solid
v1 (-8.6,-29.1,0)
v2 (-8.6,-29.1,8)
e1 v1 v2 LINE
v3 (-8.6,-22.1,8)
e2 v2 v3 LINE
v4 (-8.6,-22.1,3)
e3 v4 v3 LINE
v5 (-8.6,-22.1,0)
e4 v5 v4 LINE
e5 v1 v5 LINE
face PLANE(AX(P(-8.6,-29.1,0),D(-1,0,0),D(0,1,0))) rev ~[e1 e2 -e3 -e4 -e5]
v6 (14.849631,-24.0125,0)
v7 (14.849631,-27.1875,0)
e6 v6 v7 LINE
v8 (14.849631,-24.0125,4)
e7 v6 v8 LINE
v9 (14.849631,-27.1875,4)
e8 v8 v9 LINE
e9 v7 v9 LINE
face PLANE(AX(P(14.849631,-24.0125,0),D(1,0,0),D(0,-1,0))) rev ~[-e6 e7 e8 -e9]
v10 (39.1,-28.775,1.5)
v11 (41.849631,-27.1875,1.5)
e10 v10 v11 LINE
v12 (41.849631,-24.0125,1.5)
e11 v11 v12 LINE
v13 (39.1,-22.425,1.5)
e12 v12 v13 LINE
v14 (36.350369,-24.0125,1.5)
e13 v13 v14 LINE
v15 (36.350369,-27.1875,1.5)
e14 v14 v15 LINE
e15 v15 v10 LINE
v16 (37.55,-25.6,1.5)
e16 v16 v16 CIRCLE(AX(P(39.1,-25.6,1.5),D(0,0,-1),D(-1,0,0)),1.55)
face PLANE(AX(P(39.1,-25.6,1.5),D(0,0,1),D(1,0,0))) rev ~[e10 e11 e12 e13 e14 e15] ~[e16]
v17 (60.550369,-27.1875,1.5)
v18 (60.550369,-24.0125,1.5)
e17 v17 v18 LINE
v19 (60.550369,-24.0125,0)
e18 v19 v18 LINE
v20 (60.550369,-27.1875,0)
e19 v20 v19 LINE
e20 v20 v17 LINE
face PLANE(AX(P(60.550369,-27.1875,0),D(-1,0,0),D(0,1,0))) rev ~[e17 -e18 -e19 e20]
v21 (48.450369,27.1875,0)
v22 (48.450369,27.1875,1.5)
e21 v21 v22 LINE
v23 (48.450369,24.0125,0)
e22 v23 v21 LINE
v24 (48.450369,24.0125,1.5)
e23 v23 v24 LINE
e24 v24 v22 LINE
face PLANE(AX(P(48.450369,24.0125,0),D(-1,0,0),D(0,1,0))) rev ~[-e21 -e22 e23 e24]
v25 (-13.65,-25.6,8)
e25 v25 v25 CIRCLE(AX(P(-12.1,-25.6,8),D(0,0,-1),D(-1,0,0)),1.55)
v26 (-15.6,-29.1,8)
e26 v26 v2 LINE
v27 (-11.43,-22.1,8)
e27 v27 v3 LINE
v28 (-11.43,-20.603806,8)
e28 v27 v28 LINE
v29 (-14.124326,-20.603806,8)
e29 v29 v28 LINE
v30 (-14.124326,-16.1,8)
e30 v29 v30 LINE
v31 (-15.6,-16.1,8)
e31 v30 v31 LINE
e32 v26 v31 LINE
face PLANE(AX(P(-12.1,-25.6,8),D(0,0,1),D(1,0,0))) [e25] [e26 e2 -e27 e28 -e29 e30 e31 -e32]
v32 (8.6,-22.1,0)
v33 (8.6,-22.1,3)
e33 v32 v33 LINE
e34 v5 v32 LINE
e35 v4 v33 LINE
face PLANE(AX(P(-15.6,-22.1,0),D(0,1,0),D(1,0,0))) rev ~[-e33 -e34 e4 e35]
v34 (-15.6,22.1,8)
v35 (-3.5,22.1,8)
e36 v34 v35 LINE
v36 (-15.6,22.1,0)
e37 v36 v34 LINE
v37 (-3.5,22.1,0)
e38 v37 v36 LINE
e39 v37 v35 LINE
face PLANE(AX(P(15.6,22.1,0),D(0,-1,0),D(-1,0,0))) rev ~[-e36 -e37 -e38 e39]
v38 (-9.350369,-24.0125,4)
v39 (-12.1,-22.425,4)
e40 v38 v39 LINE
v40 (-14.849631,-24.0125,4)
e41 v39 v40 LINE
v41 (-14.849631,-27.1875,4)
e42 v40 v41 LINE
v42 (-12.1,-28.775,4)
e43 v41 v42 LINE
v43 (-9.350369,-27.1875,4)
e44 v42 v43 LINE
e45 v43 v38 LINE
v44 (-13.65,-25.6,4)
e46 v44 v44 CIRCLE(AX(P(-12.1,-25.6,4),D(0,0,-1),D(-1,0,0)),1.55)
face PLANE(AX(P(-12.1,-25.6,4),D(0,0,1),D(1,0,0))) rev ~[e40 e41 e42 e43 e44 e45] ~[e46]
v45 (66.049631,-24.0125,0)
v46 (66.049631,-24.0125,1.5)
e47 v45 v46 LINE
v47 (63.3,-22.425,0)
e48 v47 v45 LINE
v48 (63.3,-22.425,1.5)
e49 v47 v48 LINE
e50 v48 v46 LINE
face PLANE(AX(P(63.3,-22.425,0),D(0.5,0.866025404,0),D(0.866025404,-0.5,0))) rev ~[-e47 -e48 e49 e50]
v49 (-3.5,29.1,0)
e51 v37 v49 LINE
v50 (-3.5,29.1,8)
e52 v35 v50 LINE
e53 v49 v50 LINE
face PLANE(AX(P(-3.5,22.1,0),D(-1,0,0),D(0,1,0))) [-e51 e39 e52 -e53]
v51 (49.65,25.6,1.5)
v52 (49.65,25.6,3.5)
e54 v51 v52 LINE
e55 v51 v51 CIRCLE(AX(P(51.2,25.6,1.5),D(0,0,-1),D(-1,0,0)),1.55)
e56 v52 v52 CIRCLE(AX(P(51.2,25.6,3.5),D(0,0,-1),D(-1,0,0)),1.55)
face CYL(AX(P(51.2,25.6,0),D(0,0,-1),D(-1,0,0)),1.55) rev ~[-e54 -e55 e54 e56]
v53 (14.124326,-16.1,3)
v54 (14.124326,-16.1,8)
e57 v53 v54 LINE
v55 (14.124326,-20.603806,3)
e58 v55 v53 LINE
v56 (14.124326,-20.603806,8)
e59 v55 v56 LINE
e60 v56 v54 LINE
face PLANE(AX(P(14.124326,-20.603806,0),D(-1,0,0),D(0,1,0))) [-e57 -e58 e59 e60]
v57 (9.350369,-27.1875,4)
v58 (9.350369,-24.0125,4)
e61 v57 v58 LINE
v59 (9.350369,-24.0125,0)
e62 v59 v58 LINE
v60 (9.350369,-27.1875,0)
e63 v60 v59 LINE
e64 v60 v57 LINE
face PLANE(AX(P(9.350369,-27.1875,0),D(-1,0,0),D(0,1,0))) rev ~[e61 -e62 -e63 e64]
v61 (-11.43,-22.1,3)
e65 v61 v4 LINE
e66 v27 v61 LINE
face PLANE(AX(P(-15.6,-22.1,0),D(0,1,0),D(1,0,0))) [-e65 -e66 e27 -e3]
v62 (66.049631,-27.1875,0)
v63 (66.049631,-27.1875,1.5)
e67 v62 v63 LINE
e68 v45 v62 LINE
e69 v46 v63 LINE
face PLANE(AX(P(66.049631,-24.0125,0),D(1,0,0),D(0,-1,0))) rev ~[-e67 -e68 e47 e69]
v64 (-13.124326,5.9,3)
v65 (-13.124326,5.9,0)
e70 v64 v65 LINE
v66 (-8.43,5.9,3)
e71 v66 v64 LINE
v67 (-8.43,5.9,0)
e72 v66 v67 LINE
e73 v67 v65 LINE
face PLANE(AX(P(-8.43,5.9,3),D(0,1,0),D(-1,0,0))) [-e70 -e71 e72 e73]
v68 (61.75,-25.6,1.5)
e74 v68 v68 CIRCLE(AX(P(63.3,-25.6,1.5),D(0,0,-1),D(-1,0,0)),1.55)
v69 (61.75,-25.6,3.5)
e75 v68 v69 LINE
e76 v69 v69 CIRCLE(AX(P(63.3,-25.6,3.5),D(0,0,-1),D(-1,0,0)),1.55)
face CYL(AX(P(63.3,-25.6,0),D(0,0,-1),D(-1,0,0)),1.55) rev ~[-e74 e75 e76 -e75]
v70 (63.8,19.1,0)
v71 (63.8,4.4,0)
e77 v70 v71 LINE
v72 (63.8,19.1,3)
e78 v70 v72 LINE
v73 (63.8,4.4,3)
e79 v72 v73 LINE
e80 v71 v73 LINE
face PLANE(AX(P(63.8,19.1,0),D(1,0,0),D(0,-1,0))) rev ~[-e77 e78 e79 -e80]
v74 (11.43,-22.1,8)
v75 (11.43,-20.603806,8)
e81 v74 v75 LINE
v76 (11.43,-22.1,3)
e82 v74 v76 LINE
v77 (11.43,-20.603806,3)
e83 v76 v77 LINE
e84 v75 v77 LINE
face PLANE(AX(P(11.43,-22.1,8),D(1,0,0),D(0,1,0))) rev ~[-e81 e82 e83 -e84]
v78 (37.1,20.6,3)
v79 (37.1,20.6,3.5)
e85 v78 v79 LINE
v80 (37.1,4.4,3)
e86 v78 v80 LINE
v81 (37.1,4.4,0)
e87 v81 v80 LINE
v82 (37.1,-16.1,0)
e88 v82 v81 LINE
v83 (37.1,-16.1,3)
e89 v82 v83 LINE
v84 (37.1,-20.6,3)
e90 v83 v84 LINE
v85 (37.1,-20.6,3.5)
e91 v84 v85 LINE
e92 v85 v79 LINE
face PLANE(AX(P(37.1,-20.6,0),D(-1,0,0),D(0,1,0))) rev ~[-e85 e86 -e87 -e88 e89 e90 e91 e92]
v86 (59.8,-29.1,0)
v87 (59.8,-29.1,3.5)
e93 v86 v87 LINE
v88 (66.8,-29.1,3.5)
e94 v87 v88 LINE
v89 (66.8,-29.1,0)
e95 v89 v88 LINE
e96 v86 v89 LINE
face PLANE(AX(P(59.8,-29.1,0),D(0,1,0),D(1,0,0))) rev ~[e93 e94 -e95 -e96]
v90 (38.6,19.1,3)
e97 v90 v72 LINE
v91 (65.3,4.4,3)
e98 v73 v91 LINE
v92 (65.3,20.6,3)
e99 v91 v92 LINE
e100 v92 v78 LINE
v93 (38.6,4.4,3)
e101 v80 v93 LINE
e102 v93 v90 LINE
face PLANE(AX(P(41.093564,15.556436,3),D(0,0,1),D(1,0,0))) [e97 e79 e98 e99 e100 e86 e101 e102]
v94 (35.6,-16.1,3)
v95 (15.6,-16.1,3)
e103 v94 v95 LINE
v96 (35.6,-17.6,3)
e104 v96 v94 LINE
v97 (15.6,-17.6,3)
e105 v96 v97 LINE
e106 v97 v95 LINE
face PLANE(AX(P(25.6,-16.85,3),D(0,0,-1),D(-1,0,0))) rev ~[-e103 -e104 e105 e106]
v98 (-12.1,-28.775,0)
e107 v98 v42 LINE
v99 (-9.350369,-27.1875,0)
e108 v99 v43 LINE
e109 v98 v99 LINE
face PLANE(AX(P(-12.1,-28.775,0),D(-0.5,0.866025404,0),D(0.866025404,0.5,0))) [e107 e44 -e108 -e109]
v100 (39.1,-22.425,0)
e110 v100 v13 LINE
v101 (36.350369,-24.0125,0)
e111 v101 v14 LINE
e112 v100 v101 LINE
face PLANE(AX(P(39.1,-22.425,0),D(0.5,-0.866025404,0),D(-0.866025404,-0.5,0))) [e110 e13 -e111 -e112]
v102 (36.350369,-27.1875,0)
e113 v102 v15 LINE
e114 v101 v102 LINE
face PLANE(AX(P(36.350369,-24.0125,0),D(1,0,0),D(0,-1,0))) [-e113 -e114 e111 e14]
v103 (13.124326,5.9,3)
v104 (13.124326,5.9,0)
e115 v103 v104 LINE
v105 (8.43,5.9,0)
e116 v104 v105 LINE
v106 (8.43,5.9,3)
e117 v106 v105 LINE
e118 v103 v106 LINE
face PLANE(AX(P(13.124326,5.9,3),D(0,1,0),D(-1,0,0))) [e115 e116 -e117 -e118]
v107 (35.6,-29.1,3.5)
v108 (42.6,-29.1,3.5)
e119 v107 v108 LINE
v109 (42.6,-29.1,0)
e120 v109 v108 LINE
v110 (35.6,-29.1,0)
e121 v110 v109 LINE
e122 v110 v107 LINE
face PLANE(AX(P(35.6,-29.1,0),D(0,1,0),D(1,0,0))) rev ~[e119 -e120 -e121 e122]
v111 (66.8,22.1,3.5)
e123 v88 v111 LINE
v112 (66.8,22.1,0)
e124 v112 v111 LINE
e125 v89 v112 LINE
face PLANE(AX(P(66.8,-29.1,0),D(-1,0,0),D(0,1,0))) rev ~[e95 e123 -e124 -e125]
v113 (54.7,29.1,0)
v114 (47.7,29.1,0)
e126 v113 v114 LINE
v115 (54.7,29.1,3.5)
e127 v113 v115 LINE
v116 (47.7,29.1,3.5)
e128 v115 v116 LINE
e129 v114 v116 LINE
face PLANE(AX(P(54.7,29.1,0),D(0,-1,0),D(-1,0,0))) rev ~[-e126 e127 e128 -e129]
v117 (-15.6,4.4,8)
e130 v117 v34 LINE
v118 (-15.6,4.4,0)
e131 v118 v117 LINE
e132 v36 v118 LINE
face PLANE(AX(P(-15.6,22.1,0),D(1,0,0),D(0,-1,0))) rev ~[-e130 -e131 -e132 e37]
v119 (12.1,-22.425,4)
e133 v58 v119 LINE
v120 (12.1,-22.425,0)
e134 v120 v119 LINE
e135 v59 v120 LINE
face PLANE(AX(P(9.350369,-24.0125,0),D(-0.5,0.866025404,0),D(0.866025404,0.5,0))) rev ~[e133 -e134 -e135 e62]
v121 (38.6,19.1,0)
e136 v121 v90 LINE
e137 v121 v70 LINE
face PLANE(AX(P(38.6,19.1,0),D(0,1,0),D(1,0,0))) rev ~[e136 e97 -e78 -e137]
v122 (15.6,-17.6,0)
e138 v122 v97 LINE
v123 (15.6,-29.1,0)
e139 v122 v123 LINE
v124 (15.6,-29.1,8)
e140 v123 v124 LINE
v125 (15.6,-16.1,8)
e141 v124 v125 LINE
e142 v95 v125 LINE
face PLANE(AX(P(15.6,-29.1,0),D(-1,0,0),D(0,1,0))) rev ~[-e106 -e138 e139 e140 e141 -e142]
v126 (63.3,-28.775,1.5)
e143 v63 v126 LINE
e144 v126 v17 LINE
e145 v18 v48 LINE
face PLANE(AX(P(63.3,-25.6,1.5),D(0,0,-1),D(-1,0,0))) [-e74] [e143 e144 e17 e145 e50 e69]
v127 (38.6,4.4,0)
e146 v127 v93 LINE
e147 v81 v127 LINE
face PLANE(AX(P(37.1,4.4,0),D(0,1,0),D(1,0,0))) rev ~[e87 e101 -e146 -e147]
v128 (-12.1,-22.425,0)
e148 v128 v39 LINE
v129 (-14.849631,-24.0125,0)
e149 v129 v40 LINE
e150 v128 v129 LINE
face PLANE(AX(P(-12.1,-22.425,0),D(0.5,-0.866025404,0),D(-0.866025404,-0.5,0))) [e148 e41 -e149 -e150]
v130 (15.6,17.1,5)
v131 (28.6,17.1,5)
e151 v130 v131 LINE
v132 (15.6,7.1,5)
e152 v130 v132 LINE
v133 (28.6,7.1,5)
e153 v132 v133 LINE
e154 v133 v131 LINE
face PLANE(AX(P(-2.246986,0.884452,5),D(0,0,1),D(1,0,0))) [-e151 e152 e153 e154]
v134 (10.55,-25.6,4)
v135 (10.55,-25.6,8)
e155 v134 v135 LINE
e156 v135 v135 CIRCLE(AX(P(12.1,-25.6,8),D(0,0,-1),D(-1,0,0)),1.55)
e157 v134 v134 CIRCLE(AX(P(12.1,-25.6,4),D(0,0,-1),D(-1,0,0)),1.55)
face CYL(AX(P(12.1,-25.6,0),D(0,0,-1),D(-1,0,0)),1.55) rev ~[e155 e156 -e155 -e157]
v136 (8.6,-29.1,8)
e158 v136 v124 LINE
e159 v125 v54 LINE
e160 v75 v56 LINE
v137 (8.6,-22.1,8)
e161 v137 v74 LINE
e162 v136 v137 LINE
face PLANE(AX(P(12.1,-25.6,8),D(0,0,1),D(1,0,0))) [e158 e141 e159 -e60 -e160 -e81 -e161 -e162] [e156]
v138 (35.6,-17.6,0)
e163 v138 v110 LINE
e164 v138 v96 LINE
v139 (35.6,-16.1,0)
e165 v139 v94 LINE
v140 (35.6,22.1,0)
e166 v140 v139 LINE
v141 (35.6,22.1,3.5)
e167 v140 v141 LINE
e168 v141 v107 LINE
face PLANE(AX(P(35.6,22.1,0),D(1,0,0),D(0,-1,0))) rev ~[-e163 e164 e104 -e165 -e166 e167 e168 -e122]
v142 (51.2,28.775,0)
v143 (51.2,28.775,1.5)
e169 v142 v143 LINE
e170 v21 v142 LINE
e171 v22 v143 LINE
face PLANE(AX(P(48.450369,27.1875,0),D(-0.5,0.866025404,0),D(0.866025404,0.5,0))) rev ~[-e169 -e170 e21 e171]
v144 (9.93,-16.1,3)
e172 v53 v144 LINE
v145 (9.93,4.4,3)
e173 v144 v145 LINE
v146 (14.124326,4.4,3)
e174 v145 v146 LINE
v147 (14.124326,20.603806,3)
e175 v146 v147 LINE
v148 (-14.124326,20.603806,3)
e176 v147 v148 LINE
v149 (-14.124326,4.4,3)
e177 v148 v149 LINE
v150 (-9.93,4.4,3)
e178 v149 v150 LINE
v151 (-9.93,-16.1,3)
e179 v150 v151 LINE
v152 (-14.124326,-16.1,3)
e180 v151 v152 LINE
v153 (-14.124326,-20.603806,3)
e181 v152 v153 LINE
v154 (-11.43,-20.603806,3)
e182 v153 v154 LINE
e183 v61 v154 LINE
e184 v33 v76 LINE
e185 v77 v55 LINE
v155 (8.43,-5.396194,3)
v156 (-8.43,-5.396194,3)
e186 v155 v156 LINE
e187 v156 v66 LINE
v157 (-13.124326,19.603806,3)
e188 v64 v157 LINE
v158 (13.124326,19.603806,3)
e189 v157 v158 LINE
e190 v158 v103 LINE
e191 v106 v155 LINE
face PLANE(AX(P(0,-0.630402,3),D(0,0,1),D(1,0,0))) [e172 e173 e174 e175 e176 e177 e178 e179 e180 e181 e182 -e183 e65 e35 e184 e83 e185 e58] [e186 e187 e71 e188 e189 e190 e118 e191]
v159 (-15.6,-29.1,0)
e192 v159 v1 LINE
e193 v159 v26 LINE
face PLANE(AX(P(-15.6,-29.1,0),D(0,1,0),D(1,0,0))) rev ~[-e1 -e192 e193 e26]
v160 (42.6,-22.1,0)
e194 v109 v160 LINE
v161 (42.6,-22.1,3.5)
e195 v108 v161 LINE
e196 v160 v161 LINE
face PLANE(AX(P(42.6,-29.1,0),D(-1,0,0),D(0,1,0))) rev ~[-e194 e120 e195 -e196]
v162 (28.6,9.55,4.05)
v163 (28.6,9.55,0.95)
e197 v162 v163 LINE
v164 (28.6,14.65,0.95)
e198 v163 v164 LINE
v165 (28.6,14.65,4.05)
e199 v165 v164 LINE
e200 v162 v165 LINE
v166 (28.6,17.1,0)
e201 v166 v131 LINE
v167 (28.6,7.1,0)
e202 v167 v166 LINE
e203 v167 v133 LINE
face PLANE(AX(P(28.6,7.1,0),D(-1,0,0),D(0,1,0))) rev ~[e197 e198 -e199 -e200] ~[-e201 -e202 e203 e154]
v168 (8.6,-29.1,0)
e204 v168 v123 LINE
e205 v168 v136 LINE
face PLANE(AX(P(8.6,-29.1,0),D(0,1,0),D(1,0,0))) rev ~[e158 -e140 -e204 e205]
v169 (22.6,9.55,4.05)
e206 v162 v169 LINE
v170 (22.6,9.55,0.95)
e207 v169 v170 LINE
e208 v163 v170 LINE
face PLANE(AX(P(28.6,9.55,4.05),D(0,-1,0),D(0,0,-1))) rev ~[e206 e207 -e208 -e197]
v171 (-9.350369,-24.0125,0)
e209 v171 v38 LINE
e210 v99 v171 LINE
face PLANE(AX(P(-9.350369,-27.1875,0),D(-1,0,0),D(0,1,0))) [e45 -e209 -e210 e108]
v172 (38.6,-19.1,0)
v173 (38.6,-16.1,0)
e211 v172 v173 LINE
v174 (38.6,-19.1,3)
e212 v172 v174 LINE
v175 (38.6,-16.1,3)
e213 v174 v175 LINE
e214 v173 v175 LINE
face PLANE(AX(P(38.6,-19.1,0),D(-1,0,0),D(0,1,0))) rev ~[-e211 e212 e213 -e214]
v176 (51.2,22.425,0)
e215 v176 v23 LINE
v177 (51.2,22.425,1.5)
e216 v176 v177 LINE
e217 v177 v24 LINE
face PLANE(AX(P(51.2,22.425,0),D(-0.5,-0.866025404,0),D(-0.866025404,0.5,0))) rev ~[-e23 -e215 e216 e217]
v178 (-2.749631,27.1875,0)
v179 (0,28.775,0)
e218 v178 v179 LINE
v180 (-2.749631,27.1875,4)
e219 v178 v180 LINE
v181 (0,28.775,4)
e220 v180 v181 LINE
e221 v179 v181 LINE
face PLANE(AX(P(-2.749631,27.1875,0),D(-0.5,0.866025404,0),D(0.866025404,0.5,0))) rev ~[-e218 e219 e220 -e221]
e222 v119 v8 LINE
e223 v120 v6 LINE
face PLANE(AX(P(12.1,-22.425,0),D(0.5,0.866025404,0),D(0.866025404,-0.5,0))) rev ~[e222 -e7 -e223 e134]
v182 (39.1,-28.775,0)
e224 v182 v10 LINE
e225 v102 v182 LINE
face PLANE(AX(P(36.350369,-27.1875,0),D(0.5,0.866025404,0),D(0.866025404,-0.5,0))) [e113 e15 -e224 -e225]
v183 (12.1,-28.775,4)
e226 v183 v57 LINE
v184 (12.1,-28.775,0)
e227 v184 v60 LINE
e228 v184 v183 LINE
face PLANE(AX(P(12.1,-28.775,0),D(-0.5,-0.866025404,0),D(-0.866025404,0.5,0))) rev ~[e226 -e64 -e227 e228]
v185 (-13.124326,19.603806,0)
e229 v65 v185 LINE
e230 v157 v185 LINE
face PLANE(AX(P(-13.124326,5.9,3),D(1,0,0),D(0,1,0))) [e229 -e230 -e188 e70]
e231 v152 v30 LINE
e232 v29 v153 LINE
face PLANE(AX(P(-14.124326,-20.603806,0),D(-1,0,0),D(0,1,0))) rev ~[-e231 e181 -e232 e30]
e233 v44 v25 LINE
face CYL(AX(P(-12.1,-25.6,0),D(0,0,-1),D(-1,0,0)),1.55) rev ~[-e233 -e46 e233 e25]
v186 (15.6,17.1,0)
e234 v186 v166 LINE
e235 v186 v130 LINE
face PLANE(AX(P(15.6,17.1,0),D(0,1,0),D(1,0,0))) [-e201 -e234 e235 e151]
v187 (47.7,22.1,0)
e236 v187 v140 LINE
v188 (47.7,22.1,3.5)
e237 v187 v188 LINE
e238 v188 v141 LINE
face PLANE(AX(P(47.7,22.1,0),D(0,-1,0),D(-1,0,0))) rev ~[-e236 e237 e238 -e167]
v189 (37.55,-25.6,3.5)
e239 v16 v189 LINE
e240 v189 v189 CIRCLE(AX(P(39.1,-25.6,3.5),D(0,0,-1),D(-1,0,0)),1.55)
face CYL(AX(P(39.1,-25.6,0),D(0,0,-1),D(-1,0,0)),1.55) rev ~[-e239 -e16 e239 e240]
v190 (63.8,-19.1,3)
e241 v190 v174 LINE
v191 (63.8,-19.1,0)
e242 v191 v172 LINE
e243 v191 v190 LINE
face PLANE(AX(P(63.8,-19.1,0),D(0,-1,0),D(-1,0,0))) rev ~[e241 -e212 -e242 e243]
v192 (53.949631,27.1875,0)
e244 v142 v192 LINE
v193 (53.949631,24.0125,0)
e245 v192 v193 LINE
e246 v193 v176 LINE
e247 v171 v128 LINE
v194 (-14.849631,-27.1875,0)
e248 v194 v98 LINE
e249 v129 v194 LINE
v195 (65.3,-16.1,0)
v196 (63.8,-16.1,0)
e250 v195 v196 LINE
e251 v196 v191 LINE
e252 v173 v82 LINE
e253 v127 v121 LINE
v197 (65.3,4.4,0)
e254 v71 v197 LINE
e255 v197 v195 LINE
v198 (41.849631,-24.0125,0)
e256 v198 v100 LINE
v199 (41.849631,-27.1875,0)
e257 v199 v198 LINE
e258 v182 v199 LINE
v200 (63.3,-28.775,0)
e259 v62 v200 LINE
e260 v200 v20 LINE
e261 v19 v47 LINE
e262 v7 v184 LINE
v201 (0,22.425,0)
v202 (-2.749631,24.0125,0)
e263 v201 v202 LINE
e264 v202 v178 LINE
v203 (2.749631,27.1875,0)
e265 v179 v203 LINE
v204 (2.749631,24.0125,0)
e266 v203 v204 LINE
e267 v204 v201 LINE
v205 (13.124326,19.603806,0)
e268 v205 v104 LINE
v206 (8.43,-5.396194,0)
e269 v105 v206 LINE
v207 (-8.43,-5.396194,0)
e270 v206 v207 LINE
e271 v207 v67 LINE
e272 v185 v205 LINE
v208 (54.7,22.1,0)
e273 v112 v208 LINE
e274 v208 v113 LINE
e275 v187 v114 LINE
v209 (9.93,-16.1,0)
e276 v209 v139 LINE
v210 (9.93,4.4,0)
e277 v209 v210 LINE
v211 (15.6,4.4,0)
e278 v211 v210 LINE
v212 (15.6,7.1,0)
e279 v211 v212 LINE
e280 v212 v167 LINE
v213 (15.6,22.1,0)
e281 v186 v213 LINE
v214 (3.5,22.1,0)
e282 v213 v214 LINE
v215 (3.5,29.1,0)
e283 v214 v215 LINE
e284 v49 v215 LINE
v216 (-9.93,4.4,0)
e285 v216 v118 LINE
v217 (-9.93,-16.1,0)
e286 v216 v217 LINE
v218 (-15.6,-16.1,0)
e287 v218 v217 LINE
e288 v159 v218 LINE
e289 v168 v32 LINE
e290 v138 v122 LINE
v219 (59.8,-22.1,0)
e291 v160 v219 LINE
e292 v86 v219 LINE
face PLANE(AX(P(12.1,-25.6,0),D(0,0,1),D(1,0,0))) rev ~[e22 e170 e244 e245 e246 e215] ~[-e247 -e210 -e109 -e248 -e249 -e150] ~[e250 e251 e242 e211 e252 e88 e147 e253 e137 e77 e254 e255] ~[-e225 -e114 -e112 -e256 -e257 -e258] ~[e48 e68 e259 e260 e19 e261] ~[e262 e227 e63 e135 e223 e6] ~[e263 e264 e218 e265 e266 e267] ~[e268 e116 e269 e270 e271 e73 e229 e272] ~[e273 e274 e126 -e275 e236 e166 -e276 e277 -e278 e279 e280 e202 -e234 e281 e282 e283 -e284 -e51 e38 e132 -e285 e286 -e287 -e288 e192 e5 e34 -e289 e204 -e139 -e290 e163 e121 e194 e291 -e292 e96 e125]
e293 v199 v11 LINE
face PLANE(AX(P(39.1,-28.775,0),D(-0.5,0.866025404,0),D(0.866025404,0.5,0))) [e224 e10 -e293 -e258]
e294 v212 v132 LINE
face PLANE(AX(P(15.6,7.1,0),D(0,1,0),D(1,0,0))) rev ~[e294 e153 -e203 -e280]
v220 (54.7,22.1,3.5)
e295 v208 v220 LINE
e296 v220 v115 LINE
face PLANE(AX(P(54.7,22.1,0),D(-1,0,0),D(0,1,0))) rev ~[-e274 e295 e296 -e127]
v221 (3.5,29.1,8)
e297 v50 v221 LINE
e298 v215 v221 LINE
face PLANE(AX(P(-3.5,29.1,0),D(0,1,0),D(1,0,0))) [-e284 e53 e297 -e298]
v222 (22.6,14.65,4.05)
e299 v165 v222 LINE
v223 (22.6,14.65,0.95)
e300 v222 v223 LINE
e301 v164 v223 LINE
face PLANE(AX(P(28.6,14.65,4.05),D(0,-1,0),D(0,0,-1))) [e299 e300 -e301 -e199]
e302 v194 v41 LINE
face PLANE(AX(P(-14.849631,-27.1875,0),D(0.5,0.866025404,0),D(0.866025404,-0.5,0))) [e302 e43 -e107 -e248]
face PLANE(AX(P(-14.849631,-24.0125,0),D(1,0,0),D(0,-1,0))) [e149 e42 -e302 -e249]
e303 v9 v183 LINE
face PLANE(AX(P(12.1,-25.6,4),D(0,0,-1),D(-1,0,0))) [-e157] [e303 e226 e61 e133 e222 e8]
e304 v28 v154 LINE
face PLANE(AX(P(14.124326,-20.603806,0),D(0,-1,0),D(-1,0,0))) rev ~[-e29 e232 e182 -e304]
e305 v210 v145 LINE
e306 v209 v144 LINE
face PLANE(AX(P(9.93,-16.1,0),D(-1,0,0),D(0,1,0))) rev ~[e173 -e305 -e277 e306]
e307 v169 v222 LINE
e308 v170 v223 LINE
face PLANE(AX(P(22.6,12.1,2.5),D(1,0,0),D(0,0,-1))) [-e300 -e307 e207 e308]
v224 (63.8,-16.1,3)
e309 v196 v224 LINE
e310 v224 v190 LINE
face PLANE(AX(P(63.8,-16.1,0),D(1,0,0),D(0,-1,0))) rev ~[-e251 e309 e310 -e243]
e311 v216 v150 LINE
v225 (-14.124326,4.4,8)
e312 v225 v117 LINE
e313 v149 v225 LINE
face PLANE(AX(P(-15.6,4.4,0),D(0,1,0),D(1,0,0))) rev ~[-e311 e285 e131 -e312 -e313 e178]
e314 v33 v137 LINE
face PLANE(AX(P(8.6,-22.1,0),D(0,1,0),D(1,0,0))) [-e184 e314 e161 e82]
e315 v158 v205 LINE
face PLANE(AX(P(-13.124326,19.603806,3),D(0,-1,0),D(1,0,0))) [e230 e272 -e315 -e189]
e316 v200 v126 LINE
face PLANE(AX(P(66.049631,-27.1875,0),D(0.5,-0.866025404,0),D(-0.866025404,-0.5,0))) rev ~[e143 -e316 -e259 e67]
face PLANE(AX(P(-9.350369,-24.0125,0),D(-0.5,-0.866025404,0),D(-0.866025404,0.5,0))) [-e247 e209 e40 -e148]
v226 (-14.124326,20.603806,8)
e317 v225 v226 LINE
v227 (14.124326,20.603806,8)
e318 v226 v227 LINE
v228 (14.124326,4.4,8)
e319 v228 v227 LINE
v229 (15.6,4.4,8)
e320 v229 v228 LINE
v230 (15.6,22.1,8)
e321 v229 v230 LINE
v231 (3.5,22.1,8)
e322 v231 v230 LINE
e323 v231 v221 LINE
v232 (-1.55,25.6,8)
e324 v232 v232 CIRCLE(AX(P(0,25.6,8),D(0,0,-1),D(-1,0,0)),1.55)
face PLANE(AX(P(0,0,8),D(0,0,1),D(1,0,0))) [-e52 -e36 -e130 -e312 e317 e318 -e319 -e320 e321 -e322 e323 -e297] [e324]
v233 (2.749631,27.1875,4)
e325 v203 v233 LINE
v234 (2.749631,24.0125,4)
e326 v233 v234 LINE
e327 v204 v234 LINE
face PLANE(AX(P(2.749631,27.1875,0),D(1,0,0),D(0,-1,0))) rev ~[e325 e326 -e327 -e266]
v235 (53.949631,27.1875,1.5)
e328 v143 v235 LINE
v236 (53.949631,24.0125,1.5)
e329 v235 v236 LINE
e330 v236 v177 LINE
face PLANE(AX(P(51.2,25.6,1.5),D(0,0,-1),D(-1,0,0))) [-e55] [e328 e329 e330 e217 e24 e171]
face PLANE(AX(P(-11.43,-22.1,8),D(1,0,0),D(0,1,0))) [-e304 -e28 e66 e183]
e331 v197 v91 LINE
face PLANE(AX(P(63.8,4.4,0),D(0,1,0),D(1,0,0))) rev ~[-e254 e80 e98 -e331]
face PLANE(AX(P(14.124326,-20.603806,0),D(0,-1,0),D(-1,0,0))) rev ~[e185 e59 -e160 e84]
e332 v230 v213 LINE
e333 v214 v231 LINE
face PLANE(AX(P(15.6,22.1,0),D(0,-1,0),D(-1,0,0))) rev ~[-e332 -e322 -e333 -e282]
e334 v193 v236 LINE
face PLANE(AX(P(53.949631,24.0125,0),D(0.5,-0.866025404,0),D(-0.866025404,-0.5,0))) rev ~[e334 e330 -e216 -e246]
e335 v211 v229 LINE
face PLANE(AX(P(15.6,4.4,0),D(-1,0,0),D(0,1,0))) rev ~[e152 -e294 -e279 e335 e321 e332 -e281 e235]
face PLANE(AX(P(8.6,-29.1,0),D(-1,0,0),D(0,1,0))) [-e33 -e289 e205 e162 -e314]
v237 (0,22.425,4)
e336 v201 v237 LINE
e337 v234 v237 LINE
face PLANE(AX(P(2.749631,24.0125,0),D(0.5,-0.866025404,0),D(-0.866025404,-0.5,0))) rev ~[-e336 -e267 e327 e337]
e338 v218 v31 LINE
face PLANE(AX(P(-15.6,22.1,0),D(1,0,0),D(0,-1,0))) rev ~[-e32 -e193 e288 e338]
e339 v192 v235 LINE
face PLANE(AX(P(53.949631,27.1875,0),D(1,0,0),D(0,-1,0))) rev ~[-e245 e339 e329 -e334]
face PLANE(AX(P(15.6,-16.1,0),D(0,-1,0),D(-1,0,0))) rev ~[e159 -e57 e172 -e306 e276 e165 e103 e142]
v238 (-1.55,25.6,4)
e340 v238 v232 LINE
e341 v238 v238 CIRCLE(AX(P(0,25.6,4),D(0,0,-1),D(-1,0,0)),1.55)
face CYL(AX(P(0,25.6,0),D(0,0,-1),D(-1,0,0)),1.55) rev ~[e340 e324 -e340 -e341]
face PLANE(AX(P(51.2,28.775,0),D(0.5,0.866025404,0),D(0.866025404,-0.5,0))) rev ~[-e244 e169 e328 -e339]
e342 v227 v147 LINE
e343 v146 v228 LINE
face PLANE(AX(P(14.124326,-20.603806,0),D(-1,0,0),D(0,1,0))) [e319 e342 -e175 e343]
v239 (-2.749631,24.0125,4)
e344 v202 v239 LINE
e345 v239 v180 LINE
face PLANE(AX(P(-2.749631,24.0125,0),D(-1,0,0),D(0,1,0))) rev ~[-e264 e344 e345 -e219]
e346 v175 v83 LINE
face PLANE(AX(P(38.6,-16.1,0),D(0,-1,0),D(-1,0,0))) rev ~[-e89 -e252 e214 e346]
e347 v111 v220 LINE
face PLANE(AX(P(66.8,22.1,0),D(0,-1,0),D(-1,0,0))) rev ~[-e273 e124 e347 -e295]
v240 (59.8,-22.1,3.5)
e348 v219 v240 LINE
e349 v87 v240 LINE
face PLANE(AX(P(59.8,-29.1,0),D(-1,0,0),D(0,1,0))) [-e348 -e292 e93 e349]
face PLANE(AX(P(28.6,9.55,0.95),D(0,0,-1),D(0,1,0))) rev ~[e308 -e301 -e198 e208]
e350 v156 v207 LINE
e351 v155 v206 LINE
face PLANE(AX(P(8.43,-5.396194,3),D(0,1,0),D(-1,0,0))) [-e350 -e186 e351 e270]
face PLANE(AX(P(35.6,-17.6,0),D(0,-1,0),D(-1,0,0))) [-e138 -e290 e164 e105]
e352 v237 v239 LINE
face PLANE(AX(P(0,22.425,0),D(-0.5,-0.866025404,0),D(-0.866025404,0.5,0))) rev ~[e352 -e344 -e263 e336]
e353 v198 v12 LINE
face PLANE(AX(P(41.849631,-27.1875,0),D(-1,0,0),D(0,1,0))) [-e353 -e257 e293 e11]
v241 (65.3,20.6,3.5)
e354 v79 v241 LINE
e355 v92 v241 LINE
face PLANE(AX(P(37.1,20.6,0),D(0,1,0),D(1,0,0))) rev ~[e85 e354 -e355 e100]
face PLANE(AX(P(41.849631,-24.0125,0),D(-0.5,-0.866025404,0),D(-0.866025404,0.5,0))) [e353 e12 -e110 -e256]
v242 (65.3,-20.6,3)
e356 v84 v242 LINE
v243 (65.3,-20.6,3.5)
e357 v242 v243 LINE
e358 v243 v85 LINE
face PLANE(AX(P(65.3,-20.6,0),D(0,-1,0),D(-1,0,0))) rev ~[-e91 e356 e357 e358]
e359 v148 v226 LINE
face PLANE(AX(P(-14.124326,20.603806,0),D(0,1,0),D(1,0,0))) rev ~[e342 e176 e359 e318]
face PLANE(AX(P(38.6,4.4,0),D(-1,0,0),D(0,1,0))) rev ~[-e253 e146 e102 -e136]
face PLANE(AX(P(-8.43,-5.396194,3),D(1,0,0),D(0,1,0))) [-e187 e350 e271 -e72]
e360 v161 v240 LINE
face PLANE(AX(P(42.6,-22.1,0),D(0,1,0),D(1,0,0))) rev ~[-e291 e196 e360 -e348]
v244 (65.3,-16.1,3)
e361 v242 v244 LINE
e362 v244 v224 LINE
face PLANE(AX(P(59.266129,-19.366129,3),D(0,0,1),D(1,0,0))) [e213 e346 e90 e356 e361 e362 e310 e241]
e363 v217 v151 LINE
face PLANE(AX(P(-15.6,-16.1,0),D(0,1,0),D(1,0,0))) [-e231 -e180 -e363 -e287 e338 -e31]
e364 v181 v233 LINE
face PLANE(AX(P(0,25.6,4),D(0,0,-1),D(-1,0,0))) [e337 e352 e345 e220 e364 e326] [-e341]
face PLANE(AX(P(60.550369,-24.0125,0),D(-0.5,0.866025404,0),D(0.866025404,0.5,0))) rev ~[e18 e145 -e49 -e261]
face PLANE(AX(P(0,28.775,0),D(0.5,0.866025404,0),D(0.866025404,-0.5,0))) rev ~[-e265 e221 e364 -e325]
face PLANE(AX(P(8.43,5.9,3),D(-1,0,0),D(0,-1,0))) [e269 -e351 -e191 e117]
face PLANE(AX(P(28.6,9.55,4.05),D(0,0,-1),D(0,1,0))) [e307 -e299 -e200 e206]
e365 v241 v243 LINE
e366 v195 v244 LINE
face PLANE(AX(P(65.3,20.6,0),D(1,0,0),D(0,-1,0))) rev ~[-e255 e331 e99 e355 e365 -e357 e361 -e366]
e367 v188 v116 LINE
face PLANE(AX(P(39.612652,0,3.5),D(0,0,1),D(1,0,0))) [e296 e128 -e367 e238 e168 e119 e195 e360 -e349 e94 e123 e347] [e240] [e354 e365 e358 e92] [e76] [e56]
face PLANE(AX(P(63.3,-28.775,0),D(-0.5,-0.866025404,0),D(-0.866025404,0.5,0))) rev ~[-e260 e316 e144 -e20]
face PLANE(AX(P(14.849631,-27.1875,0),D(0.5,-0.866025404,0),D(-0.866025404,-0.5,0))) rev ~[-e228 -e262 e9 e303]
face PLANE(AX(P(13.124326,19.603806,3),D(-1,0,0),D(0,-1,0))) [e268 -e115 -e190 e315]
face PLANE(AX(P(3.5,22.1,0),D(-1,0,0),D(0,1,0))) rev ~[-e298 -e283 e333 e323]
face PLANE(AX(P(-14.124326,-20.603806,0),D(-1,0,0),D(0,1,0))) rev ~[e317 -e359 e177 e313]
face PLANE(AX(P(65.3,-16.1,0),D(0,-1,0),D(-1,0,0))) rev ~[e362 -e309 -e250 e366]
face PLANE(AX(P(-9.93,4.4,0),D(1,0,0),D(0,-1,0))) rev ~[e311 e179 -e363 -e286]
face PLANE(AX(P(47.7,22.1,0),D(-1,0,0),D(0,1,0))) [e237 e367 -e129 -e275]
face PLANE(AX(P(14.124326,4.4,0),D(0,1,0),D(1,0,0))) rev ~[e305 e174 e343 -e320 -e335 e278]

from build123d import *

# Parameters (mm, degrees)
BOSS_EXTRUDE1_DEPTH = 3
BOSS_EXTRUDE2_DEPTH = 5
SKETCH1_4_W         = 13
SKETCH1_4_H         = 10
BOSS_EXTRUDE3_DEPTH = 5
SKETCH2_W           = 3.1
SKETCH2_H           = 5.1
CUT_EXTRUDE1_DEPTH  = 6
SKETCH1_5_W         = 31.2
SKETCH1_5_H         = 44.2
SKETCH1_5_W_2       = 28.248651934
SKETCH1_5_H_2       = 41.207612078
BOSS_EXTRUDE4_DEPTH = 8
SKETCH3_W           = 20
SKETCH3_H           = 1.5
BOSS_EXTRUDE5_DEPTH = 3
SKETCH1_6_W         = 1.475674033
SKETCH1_6_H         = 20.5
CUT_EXTRUDE2_DEPTH  = 25
SKETCH1_7_W         = 1.475674033
SKETCH1_7_H         = 20.5
CUT_EXTRUDE3_DEPTH  = 43.658762289
CUT_EXTRUDE4_DEPTH  = 43.199170608
SKETCH6_W           = 22.86
SKETCH6_H           = 1.496193961
CUT_EXTRUDE5_DEPTH  = 5
BOSS_EXTRUDE6_DEPTH = 3
SKETCH7_4_W         = 7
SKETCH7_4_H         = 7
SKETCH7_4_W_2       = 3.5
BOSS_EXTRUDE8_DEPTH = 3.5
SKETCH8_W           = 7
SKETCH8_H           = 7
BOSS_EXTRUDE9_DEPTH = 8
SKETCH9_R           = 1.55
CUT_EXTRUDE6_DEPTH  = 74.301091397
SKETCH9_3_R         = 1.55
CUT_EXTRUDE7_DEPTH  = 4
SKETCH9_4_R         = 1.55
CUT_EXTRUDE8_DEPTH  = 1.5


with BuildPart() as part:
    # Sketch1 → Boss-Extrude1 (new body)
    with BuildSketch(Plane.XY):
        Polygon((9.93, 4.4), (14.124325967, 4.4), (14.124325967, 20.603806039), (-14.124325967, 20.603806039), (-14.124325967, 4.4), (-9.93, 4.4), (-9.93, -16.1), (-14.124325967, -16.1), (-14.124325967, -20.603806039), (14.124325967, -20.603806039), (14.124325967, -16.1), (9.93, -16.1), align=None)
    extrude(amount=BOSS_EXTRUDE1_DEPTH)

    # Sketch1<3> → Boss-Extrude2 (add)
    with BuildSketch(Plane.XY):
        Polygon((15.6, 22.1), (-15.6, 22.1), (-15.6, -22.1), (15.6, -22.1), (15.6, -16.1), (14.124325967, -16.1), (14.124325967, -20.603806039), (-14.124325967, -20.603806039), (-14.124325967, 20.603806039), (14.124325967, 20.603806039), (14.124325967, 4.4), (15.6, 4.4), align=None)
    extrude(amount=BOSS_EXTRUDE2_DEPTH)

    # Sketch1<4> → Boss-Extrude3 (add)
    with BuildSketch(Plane.XY):
        with Locations((22.1, 12.1)):
            Rectangle(SKETCH1_4_W, SKETCH1_4_H)
    extrude(amount=BOSS_EXTRUDE3_DEPTH)

    # Sketch2 → Cut-Extrude1 (cut)
    with BuildSketch(Plane(origin=(28.6, 0, 0), x_dir=(0, 0, -1), z_dir=(1, 0, 0))):
        with Locations((-2.5, 12.1)):
            Rectangle(SKETCH2_W, SKETCH2_H)
    extrude(amount=-CUT_EXTRUDE1_DEPTH, mode=Mode.SUBTRACT)

    # Sketch1<5> → Boss-Extrude4 (add)
    with BuildSketch(Plane.XY):
        Rectangle(SKETCH1_5_W, SKETCH1_5_H)
        Rectangle(SKETCH1_5_W_2, SKETCH1_5_H_2, mode=Mode.SUBTRACT)
    extrude(amount=BOSS_EXTRUDE4_DEPTH)

    # Sketch3 → Boss-Extrude5 (add)
    with BuildSketch(Plane(origin=(0, 0, 0), x_dir=(-1, 0, 0), z_dir=(0, 0, -1))):
        with Locations((-25.6, -16.85)):
            Rectangle(SKETCH3_W, SKETCH3_H)
    extrude(amount=-BOSS_EXTRUDE5_DEPTH)

    # Sketch1<6> → Cut-Extrude2 (cut)
    with BuildSketch(Plane.XY):
        with Locations((-14.862162984, -5.85)):
            Rectangle(SKETCH1_6_W, SKETCH1_6_H)
    extrude(amount=CUT_EXTRUDE2_DEPTH, mode=Mode.SUBTRACT)

    # Sketch1<7> → Cut-Extrude3 (cut, through all)
    with BuildSketch(Plane.XY):
        with Locations((14.862162984, -5.85)):
            Rectangle(SKETCH1_7_W, SKETCH1_7_H)
    extrude(amount=CUT_EXTRUDE3_DEPTH, mode=Mode.SUBTRACT)

    # Sketch4 → Cut-Extrude4 (cut, through all)
    with BuildSketch(Plane.XY.offset(3)):
        Polygon((-13.124325967, 19.603806039), (13.124325967, 19.603806039), (13.124325967, 5.9), (8.43, 5.9), (8.43, -5.396193961), (-8.43, -5.396193961), (-8.43, 5.9), (-13.124325967, 5.9), align=None)
    extrude(amount=-CUT_EXTRUDE4_DEPTH, mode=Mode.SUBTRACT)

    # Sketch6 → Cut-Extrude5 (cut)
    with BuildSketch(Plane.XY.offset(8)):
        with Locations((0, -21.351903019)):
            Rectangle(SKETCH6_W, SKETCH6_H)
    extrude(amount=-CUT_EXTRUDE5_DEPTH, mode=Mode.SUBTRACT)



with BuildPart() as body_2:
    # Sketch7 → Boss-Extrude6 (new body)
    with BuildSketch(Plane.XY):
        Polygon((51.2, 19.1), (51.2, 20.6), (37.1, 20.6), (37.1, 4.4), (38.6, 4.4), (38.6, 19.1), align=None)
        Polygon((65.3, 20.6), (51.2, 20.6), (51.2, 19.1), (63.8, 19.1), (63.8, 4.4), (65.3, 4.4), align=None)
        Polygon((63.8, -19.1), (51.2, -19.1), (51.2, -20.6), (65.3, -20.6), (65.3, -16.1), (63.8, -16.1), align=None)
        Polygon((51.2, -20.6), (51.2, -19.1), (38.6, -19.1), (38.6, -16.1), (37.1, -16.1), (37.1, -20.6), align=None)
    extrude(amount=BOSS_EXTRUDE6_DEPTH)


with BuildPart() as part_1:
    add(part.part)

    add(body_2.part)  # Boss-Extrude8 merges body 2
    # Sketch7<4> → Boss-Extrude8 (add)
    with BuildSketch(Plane.XY):
        Polygon((47.7, 22.1), (35.6, 22.1), (35.6, -22.1), (42.6, -22.1), (49.2, -22.1), (51.2, -22.1), (51.2, -20.6), (37.1, -20.6), (37.1, -16.1), (37.1, 4.4), (37.1, 20.6), (51.2, 20.6), (51.2, 22.1), align=None)
        Polygon((54.7, 22.1), (51.2, 22.1), (51.2, 20.6), (65.3, 20.6), (65.3, 4.4), (65.3, -16.1), (65.3, -20.6), (51.2, -20.6), (51.2, -22.1), (53.2, -22.1), (59.8, -22.1), (66.8, -22.1), (66.8, 22.1), align=None)
        with Locations((63.3, -25.6)):
            Rectangle(SKETCH7_4_W, SKETCH7_4_H)
        with Locations((39.1, -25.6)):
            Rectangle(SKETCH7_4_W, SKETCH7_4_H)
        with Locations((52.95, 25.6)):
            Rectangle(SKETCH7_4_W_2, SKETCH7_4_H)
        with Locations((49.45, 25.6)):
            Rectangle(SKETCH7_4_W_2, SKETCH7_4_H)
    extrude(amount=BOSS_EXTRUDE8_DEPTH)

    # Sketch8 → Boss-Extrude9 (add)
    with BuildSketch(Plane.XY):
        with Locations((12.1, -25.6)):
            Rectangle(SKETCH8_W, SKETCH8_H)
        with Locations((0, 25.6)):
            Rectangle(SKETCH8_W, SKETCH8_H)
        with Locations((-12.1, -25.6)):
            Rectangle(SKETCH8_W, SKETCH8_H)
    extrude(amount=BOSS_EXTRUDE9_DEPTH)

    # Sketch9 → Cut-Extrude6 (cut, through all)
    with BuildSketch(Plane(origin=(0, 0, 0), x_dir=(-1, 0, 0), z_dir=(0, 0, -1))):
        with Locations((-63.3, -25.6)):
            Circle(SKETCH9_R)
        with Locations((-39.1, -25.6)):
            Circle(SKETCH9_R)
        with Locations((-12.1, -25.6)):
            Circle(SKETCH9_R)
        with Locations((12.1, -25.6)):
            Circle(SKETCH9_R)
        with Locations((0, 25.6)):
            Circle(SKETCH9_R)
        with Locations((-51.2, 25.6)):
            Circle(SKETCH9_R)
    extrude(amount=-CUT_EXTRUDE6_DEPTH, mode=Mode.SUBTRACT)

    # Sketch9<3> → Cut-Extrude7 (cut)
    # profile 1 of 3: a face of its own
    with BuildSketch(Plane(origin=(0, 0, 0), x_dir=(-1, 0, 0), z_dir=(0, 0, -1))):
        Polygon((0, 22.425), (2.749630657, 24.0125), (2.749630657, 27.1875), (0, 28.775), (-2.749630657, 27.1875), (-2.749630657, 24.0125), align=None)
        with Locations((0, 25.6)):
            Circle(SKETCH9_3_R, mode=Mode.SUBTRACT)
    # profile 2 of 3: a face of its own
    with BuildSketch(Plane(origin=(0, 0, 0), x_dir=(-1, 0, 0), z_dir=(0, 0, -1))):
        Polygon((9.350369343, -27.1875), (9.350369343, -24.0125), (12.1, -22.425), (14.849630657, -24.0125), (14.849630657, -27.1875), (12.1, -28.775), align=None)
        with Locations((12.1, -25.6)):
            Circle(SKETCH9_3_R, mode=Mode.SUBTRACT)
    # profile 3 of 3: a face of its own
    with BuildSketch(Plane(origin=(0, 0, 0), x_dir=(-1, 0, 0), z_dir=(0, 0, -1))):
        Polygon((-14.849630657, -27.1875), (-12.1, -28.775), (-9.350369343, -27.1875), (-9.350369343, -24.0125), (-12.1, -22.425), (-14.849630657, -24.0125), align=None)
        with Locations((-12.1, -25.6)):
            Circle(SKETCH9_3_R, mode=Mode.SUBTRACT)
    extrude(amount=-CUT_EXTRUDE7_DEPTH, mode=Mode.SUBTRACT)

    # Sketch9<4> → Cut-Extrude8 (cut)
    # profile 1 of 3: a face of its own
    with BuildSketch(Plane(origin=(0, 0, 0), x_dir=(-1, 0, 0), z_dir=(0, 0, -1))):
        Polygon((-53.949630657, 24.0125), (-51.2, 22.425), (-48.450369343, 24.0125), (-48.450369343, 27.1875), (-51.2, 28.775), (-53.949630657, 27.1875), align=None)
        with Locations((-51.2, 25.6)):
            Circle(SKETCH9_4_R, mode=Mode.SUBTRACT)
    # profile 2 of 3: a face of its own
    with BuildSketch(Plane(origin=(0, 0, 0), x_dir=(-1, 0, 0), z_dir=(0, 0, -1))):
        Polygon((-66.049630657, -27.1875), (-63.3, -28.775), (-60.550369343, -27.1875), (-60.550369343, -24.0125), (-63.3, -22.425), (-66.049630657, -24.0125), align=None)
        with Locations((-63.3, -25.6)):
            Circle(SKETCH9_4_R, mode=Mode.SUBTRACT)
    # profile 3 of 3: a face of its own
    with BuildSketch(Plane(origin=(0, 0, 0), x_dir=(-1, 0, 0), z_dir=(0, 0, -1))):
        Polygon((-41.849630657, -27.1875), (-41.849630657, -24.0125), (-39.1, -22.425), (-36.350369343, -24.0125), (-36.350369343, -27.1875), (-39.1, -28.775), align=None)
        with Locations((-39.1, -25.6)):
            Circle(SKETCH9_4_R, mode=Mode.SUBTRACT)
    extrude(amount=-CUT_EXTRUDE8_DEPTH, mode=Mode.SUBTRACT)


solid = part_1.part
